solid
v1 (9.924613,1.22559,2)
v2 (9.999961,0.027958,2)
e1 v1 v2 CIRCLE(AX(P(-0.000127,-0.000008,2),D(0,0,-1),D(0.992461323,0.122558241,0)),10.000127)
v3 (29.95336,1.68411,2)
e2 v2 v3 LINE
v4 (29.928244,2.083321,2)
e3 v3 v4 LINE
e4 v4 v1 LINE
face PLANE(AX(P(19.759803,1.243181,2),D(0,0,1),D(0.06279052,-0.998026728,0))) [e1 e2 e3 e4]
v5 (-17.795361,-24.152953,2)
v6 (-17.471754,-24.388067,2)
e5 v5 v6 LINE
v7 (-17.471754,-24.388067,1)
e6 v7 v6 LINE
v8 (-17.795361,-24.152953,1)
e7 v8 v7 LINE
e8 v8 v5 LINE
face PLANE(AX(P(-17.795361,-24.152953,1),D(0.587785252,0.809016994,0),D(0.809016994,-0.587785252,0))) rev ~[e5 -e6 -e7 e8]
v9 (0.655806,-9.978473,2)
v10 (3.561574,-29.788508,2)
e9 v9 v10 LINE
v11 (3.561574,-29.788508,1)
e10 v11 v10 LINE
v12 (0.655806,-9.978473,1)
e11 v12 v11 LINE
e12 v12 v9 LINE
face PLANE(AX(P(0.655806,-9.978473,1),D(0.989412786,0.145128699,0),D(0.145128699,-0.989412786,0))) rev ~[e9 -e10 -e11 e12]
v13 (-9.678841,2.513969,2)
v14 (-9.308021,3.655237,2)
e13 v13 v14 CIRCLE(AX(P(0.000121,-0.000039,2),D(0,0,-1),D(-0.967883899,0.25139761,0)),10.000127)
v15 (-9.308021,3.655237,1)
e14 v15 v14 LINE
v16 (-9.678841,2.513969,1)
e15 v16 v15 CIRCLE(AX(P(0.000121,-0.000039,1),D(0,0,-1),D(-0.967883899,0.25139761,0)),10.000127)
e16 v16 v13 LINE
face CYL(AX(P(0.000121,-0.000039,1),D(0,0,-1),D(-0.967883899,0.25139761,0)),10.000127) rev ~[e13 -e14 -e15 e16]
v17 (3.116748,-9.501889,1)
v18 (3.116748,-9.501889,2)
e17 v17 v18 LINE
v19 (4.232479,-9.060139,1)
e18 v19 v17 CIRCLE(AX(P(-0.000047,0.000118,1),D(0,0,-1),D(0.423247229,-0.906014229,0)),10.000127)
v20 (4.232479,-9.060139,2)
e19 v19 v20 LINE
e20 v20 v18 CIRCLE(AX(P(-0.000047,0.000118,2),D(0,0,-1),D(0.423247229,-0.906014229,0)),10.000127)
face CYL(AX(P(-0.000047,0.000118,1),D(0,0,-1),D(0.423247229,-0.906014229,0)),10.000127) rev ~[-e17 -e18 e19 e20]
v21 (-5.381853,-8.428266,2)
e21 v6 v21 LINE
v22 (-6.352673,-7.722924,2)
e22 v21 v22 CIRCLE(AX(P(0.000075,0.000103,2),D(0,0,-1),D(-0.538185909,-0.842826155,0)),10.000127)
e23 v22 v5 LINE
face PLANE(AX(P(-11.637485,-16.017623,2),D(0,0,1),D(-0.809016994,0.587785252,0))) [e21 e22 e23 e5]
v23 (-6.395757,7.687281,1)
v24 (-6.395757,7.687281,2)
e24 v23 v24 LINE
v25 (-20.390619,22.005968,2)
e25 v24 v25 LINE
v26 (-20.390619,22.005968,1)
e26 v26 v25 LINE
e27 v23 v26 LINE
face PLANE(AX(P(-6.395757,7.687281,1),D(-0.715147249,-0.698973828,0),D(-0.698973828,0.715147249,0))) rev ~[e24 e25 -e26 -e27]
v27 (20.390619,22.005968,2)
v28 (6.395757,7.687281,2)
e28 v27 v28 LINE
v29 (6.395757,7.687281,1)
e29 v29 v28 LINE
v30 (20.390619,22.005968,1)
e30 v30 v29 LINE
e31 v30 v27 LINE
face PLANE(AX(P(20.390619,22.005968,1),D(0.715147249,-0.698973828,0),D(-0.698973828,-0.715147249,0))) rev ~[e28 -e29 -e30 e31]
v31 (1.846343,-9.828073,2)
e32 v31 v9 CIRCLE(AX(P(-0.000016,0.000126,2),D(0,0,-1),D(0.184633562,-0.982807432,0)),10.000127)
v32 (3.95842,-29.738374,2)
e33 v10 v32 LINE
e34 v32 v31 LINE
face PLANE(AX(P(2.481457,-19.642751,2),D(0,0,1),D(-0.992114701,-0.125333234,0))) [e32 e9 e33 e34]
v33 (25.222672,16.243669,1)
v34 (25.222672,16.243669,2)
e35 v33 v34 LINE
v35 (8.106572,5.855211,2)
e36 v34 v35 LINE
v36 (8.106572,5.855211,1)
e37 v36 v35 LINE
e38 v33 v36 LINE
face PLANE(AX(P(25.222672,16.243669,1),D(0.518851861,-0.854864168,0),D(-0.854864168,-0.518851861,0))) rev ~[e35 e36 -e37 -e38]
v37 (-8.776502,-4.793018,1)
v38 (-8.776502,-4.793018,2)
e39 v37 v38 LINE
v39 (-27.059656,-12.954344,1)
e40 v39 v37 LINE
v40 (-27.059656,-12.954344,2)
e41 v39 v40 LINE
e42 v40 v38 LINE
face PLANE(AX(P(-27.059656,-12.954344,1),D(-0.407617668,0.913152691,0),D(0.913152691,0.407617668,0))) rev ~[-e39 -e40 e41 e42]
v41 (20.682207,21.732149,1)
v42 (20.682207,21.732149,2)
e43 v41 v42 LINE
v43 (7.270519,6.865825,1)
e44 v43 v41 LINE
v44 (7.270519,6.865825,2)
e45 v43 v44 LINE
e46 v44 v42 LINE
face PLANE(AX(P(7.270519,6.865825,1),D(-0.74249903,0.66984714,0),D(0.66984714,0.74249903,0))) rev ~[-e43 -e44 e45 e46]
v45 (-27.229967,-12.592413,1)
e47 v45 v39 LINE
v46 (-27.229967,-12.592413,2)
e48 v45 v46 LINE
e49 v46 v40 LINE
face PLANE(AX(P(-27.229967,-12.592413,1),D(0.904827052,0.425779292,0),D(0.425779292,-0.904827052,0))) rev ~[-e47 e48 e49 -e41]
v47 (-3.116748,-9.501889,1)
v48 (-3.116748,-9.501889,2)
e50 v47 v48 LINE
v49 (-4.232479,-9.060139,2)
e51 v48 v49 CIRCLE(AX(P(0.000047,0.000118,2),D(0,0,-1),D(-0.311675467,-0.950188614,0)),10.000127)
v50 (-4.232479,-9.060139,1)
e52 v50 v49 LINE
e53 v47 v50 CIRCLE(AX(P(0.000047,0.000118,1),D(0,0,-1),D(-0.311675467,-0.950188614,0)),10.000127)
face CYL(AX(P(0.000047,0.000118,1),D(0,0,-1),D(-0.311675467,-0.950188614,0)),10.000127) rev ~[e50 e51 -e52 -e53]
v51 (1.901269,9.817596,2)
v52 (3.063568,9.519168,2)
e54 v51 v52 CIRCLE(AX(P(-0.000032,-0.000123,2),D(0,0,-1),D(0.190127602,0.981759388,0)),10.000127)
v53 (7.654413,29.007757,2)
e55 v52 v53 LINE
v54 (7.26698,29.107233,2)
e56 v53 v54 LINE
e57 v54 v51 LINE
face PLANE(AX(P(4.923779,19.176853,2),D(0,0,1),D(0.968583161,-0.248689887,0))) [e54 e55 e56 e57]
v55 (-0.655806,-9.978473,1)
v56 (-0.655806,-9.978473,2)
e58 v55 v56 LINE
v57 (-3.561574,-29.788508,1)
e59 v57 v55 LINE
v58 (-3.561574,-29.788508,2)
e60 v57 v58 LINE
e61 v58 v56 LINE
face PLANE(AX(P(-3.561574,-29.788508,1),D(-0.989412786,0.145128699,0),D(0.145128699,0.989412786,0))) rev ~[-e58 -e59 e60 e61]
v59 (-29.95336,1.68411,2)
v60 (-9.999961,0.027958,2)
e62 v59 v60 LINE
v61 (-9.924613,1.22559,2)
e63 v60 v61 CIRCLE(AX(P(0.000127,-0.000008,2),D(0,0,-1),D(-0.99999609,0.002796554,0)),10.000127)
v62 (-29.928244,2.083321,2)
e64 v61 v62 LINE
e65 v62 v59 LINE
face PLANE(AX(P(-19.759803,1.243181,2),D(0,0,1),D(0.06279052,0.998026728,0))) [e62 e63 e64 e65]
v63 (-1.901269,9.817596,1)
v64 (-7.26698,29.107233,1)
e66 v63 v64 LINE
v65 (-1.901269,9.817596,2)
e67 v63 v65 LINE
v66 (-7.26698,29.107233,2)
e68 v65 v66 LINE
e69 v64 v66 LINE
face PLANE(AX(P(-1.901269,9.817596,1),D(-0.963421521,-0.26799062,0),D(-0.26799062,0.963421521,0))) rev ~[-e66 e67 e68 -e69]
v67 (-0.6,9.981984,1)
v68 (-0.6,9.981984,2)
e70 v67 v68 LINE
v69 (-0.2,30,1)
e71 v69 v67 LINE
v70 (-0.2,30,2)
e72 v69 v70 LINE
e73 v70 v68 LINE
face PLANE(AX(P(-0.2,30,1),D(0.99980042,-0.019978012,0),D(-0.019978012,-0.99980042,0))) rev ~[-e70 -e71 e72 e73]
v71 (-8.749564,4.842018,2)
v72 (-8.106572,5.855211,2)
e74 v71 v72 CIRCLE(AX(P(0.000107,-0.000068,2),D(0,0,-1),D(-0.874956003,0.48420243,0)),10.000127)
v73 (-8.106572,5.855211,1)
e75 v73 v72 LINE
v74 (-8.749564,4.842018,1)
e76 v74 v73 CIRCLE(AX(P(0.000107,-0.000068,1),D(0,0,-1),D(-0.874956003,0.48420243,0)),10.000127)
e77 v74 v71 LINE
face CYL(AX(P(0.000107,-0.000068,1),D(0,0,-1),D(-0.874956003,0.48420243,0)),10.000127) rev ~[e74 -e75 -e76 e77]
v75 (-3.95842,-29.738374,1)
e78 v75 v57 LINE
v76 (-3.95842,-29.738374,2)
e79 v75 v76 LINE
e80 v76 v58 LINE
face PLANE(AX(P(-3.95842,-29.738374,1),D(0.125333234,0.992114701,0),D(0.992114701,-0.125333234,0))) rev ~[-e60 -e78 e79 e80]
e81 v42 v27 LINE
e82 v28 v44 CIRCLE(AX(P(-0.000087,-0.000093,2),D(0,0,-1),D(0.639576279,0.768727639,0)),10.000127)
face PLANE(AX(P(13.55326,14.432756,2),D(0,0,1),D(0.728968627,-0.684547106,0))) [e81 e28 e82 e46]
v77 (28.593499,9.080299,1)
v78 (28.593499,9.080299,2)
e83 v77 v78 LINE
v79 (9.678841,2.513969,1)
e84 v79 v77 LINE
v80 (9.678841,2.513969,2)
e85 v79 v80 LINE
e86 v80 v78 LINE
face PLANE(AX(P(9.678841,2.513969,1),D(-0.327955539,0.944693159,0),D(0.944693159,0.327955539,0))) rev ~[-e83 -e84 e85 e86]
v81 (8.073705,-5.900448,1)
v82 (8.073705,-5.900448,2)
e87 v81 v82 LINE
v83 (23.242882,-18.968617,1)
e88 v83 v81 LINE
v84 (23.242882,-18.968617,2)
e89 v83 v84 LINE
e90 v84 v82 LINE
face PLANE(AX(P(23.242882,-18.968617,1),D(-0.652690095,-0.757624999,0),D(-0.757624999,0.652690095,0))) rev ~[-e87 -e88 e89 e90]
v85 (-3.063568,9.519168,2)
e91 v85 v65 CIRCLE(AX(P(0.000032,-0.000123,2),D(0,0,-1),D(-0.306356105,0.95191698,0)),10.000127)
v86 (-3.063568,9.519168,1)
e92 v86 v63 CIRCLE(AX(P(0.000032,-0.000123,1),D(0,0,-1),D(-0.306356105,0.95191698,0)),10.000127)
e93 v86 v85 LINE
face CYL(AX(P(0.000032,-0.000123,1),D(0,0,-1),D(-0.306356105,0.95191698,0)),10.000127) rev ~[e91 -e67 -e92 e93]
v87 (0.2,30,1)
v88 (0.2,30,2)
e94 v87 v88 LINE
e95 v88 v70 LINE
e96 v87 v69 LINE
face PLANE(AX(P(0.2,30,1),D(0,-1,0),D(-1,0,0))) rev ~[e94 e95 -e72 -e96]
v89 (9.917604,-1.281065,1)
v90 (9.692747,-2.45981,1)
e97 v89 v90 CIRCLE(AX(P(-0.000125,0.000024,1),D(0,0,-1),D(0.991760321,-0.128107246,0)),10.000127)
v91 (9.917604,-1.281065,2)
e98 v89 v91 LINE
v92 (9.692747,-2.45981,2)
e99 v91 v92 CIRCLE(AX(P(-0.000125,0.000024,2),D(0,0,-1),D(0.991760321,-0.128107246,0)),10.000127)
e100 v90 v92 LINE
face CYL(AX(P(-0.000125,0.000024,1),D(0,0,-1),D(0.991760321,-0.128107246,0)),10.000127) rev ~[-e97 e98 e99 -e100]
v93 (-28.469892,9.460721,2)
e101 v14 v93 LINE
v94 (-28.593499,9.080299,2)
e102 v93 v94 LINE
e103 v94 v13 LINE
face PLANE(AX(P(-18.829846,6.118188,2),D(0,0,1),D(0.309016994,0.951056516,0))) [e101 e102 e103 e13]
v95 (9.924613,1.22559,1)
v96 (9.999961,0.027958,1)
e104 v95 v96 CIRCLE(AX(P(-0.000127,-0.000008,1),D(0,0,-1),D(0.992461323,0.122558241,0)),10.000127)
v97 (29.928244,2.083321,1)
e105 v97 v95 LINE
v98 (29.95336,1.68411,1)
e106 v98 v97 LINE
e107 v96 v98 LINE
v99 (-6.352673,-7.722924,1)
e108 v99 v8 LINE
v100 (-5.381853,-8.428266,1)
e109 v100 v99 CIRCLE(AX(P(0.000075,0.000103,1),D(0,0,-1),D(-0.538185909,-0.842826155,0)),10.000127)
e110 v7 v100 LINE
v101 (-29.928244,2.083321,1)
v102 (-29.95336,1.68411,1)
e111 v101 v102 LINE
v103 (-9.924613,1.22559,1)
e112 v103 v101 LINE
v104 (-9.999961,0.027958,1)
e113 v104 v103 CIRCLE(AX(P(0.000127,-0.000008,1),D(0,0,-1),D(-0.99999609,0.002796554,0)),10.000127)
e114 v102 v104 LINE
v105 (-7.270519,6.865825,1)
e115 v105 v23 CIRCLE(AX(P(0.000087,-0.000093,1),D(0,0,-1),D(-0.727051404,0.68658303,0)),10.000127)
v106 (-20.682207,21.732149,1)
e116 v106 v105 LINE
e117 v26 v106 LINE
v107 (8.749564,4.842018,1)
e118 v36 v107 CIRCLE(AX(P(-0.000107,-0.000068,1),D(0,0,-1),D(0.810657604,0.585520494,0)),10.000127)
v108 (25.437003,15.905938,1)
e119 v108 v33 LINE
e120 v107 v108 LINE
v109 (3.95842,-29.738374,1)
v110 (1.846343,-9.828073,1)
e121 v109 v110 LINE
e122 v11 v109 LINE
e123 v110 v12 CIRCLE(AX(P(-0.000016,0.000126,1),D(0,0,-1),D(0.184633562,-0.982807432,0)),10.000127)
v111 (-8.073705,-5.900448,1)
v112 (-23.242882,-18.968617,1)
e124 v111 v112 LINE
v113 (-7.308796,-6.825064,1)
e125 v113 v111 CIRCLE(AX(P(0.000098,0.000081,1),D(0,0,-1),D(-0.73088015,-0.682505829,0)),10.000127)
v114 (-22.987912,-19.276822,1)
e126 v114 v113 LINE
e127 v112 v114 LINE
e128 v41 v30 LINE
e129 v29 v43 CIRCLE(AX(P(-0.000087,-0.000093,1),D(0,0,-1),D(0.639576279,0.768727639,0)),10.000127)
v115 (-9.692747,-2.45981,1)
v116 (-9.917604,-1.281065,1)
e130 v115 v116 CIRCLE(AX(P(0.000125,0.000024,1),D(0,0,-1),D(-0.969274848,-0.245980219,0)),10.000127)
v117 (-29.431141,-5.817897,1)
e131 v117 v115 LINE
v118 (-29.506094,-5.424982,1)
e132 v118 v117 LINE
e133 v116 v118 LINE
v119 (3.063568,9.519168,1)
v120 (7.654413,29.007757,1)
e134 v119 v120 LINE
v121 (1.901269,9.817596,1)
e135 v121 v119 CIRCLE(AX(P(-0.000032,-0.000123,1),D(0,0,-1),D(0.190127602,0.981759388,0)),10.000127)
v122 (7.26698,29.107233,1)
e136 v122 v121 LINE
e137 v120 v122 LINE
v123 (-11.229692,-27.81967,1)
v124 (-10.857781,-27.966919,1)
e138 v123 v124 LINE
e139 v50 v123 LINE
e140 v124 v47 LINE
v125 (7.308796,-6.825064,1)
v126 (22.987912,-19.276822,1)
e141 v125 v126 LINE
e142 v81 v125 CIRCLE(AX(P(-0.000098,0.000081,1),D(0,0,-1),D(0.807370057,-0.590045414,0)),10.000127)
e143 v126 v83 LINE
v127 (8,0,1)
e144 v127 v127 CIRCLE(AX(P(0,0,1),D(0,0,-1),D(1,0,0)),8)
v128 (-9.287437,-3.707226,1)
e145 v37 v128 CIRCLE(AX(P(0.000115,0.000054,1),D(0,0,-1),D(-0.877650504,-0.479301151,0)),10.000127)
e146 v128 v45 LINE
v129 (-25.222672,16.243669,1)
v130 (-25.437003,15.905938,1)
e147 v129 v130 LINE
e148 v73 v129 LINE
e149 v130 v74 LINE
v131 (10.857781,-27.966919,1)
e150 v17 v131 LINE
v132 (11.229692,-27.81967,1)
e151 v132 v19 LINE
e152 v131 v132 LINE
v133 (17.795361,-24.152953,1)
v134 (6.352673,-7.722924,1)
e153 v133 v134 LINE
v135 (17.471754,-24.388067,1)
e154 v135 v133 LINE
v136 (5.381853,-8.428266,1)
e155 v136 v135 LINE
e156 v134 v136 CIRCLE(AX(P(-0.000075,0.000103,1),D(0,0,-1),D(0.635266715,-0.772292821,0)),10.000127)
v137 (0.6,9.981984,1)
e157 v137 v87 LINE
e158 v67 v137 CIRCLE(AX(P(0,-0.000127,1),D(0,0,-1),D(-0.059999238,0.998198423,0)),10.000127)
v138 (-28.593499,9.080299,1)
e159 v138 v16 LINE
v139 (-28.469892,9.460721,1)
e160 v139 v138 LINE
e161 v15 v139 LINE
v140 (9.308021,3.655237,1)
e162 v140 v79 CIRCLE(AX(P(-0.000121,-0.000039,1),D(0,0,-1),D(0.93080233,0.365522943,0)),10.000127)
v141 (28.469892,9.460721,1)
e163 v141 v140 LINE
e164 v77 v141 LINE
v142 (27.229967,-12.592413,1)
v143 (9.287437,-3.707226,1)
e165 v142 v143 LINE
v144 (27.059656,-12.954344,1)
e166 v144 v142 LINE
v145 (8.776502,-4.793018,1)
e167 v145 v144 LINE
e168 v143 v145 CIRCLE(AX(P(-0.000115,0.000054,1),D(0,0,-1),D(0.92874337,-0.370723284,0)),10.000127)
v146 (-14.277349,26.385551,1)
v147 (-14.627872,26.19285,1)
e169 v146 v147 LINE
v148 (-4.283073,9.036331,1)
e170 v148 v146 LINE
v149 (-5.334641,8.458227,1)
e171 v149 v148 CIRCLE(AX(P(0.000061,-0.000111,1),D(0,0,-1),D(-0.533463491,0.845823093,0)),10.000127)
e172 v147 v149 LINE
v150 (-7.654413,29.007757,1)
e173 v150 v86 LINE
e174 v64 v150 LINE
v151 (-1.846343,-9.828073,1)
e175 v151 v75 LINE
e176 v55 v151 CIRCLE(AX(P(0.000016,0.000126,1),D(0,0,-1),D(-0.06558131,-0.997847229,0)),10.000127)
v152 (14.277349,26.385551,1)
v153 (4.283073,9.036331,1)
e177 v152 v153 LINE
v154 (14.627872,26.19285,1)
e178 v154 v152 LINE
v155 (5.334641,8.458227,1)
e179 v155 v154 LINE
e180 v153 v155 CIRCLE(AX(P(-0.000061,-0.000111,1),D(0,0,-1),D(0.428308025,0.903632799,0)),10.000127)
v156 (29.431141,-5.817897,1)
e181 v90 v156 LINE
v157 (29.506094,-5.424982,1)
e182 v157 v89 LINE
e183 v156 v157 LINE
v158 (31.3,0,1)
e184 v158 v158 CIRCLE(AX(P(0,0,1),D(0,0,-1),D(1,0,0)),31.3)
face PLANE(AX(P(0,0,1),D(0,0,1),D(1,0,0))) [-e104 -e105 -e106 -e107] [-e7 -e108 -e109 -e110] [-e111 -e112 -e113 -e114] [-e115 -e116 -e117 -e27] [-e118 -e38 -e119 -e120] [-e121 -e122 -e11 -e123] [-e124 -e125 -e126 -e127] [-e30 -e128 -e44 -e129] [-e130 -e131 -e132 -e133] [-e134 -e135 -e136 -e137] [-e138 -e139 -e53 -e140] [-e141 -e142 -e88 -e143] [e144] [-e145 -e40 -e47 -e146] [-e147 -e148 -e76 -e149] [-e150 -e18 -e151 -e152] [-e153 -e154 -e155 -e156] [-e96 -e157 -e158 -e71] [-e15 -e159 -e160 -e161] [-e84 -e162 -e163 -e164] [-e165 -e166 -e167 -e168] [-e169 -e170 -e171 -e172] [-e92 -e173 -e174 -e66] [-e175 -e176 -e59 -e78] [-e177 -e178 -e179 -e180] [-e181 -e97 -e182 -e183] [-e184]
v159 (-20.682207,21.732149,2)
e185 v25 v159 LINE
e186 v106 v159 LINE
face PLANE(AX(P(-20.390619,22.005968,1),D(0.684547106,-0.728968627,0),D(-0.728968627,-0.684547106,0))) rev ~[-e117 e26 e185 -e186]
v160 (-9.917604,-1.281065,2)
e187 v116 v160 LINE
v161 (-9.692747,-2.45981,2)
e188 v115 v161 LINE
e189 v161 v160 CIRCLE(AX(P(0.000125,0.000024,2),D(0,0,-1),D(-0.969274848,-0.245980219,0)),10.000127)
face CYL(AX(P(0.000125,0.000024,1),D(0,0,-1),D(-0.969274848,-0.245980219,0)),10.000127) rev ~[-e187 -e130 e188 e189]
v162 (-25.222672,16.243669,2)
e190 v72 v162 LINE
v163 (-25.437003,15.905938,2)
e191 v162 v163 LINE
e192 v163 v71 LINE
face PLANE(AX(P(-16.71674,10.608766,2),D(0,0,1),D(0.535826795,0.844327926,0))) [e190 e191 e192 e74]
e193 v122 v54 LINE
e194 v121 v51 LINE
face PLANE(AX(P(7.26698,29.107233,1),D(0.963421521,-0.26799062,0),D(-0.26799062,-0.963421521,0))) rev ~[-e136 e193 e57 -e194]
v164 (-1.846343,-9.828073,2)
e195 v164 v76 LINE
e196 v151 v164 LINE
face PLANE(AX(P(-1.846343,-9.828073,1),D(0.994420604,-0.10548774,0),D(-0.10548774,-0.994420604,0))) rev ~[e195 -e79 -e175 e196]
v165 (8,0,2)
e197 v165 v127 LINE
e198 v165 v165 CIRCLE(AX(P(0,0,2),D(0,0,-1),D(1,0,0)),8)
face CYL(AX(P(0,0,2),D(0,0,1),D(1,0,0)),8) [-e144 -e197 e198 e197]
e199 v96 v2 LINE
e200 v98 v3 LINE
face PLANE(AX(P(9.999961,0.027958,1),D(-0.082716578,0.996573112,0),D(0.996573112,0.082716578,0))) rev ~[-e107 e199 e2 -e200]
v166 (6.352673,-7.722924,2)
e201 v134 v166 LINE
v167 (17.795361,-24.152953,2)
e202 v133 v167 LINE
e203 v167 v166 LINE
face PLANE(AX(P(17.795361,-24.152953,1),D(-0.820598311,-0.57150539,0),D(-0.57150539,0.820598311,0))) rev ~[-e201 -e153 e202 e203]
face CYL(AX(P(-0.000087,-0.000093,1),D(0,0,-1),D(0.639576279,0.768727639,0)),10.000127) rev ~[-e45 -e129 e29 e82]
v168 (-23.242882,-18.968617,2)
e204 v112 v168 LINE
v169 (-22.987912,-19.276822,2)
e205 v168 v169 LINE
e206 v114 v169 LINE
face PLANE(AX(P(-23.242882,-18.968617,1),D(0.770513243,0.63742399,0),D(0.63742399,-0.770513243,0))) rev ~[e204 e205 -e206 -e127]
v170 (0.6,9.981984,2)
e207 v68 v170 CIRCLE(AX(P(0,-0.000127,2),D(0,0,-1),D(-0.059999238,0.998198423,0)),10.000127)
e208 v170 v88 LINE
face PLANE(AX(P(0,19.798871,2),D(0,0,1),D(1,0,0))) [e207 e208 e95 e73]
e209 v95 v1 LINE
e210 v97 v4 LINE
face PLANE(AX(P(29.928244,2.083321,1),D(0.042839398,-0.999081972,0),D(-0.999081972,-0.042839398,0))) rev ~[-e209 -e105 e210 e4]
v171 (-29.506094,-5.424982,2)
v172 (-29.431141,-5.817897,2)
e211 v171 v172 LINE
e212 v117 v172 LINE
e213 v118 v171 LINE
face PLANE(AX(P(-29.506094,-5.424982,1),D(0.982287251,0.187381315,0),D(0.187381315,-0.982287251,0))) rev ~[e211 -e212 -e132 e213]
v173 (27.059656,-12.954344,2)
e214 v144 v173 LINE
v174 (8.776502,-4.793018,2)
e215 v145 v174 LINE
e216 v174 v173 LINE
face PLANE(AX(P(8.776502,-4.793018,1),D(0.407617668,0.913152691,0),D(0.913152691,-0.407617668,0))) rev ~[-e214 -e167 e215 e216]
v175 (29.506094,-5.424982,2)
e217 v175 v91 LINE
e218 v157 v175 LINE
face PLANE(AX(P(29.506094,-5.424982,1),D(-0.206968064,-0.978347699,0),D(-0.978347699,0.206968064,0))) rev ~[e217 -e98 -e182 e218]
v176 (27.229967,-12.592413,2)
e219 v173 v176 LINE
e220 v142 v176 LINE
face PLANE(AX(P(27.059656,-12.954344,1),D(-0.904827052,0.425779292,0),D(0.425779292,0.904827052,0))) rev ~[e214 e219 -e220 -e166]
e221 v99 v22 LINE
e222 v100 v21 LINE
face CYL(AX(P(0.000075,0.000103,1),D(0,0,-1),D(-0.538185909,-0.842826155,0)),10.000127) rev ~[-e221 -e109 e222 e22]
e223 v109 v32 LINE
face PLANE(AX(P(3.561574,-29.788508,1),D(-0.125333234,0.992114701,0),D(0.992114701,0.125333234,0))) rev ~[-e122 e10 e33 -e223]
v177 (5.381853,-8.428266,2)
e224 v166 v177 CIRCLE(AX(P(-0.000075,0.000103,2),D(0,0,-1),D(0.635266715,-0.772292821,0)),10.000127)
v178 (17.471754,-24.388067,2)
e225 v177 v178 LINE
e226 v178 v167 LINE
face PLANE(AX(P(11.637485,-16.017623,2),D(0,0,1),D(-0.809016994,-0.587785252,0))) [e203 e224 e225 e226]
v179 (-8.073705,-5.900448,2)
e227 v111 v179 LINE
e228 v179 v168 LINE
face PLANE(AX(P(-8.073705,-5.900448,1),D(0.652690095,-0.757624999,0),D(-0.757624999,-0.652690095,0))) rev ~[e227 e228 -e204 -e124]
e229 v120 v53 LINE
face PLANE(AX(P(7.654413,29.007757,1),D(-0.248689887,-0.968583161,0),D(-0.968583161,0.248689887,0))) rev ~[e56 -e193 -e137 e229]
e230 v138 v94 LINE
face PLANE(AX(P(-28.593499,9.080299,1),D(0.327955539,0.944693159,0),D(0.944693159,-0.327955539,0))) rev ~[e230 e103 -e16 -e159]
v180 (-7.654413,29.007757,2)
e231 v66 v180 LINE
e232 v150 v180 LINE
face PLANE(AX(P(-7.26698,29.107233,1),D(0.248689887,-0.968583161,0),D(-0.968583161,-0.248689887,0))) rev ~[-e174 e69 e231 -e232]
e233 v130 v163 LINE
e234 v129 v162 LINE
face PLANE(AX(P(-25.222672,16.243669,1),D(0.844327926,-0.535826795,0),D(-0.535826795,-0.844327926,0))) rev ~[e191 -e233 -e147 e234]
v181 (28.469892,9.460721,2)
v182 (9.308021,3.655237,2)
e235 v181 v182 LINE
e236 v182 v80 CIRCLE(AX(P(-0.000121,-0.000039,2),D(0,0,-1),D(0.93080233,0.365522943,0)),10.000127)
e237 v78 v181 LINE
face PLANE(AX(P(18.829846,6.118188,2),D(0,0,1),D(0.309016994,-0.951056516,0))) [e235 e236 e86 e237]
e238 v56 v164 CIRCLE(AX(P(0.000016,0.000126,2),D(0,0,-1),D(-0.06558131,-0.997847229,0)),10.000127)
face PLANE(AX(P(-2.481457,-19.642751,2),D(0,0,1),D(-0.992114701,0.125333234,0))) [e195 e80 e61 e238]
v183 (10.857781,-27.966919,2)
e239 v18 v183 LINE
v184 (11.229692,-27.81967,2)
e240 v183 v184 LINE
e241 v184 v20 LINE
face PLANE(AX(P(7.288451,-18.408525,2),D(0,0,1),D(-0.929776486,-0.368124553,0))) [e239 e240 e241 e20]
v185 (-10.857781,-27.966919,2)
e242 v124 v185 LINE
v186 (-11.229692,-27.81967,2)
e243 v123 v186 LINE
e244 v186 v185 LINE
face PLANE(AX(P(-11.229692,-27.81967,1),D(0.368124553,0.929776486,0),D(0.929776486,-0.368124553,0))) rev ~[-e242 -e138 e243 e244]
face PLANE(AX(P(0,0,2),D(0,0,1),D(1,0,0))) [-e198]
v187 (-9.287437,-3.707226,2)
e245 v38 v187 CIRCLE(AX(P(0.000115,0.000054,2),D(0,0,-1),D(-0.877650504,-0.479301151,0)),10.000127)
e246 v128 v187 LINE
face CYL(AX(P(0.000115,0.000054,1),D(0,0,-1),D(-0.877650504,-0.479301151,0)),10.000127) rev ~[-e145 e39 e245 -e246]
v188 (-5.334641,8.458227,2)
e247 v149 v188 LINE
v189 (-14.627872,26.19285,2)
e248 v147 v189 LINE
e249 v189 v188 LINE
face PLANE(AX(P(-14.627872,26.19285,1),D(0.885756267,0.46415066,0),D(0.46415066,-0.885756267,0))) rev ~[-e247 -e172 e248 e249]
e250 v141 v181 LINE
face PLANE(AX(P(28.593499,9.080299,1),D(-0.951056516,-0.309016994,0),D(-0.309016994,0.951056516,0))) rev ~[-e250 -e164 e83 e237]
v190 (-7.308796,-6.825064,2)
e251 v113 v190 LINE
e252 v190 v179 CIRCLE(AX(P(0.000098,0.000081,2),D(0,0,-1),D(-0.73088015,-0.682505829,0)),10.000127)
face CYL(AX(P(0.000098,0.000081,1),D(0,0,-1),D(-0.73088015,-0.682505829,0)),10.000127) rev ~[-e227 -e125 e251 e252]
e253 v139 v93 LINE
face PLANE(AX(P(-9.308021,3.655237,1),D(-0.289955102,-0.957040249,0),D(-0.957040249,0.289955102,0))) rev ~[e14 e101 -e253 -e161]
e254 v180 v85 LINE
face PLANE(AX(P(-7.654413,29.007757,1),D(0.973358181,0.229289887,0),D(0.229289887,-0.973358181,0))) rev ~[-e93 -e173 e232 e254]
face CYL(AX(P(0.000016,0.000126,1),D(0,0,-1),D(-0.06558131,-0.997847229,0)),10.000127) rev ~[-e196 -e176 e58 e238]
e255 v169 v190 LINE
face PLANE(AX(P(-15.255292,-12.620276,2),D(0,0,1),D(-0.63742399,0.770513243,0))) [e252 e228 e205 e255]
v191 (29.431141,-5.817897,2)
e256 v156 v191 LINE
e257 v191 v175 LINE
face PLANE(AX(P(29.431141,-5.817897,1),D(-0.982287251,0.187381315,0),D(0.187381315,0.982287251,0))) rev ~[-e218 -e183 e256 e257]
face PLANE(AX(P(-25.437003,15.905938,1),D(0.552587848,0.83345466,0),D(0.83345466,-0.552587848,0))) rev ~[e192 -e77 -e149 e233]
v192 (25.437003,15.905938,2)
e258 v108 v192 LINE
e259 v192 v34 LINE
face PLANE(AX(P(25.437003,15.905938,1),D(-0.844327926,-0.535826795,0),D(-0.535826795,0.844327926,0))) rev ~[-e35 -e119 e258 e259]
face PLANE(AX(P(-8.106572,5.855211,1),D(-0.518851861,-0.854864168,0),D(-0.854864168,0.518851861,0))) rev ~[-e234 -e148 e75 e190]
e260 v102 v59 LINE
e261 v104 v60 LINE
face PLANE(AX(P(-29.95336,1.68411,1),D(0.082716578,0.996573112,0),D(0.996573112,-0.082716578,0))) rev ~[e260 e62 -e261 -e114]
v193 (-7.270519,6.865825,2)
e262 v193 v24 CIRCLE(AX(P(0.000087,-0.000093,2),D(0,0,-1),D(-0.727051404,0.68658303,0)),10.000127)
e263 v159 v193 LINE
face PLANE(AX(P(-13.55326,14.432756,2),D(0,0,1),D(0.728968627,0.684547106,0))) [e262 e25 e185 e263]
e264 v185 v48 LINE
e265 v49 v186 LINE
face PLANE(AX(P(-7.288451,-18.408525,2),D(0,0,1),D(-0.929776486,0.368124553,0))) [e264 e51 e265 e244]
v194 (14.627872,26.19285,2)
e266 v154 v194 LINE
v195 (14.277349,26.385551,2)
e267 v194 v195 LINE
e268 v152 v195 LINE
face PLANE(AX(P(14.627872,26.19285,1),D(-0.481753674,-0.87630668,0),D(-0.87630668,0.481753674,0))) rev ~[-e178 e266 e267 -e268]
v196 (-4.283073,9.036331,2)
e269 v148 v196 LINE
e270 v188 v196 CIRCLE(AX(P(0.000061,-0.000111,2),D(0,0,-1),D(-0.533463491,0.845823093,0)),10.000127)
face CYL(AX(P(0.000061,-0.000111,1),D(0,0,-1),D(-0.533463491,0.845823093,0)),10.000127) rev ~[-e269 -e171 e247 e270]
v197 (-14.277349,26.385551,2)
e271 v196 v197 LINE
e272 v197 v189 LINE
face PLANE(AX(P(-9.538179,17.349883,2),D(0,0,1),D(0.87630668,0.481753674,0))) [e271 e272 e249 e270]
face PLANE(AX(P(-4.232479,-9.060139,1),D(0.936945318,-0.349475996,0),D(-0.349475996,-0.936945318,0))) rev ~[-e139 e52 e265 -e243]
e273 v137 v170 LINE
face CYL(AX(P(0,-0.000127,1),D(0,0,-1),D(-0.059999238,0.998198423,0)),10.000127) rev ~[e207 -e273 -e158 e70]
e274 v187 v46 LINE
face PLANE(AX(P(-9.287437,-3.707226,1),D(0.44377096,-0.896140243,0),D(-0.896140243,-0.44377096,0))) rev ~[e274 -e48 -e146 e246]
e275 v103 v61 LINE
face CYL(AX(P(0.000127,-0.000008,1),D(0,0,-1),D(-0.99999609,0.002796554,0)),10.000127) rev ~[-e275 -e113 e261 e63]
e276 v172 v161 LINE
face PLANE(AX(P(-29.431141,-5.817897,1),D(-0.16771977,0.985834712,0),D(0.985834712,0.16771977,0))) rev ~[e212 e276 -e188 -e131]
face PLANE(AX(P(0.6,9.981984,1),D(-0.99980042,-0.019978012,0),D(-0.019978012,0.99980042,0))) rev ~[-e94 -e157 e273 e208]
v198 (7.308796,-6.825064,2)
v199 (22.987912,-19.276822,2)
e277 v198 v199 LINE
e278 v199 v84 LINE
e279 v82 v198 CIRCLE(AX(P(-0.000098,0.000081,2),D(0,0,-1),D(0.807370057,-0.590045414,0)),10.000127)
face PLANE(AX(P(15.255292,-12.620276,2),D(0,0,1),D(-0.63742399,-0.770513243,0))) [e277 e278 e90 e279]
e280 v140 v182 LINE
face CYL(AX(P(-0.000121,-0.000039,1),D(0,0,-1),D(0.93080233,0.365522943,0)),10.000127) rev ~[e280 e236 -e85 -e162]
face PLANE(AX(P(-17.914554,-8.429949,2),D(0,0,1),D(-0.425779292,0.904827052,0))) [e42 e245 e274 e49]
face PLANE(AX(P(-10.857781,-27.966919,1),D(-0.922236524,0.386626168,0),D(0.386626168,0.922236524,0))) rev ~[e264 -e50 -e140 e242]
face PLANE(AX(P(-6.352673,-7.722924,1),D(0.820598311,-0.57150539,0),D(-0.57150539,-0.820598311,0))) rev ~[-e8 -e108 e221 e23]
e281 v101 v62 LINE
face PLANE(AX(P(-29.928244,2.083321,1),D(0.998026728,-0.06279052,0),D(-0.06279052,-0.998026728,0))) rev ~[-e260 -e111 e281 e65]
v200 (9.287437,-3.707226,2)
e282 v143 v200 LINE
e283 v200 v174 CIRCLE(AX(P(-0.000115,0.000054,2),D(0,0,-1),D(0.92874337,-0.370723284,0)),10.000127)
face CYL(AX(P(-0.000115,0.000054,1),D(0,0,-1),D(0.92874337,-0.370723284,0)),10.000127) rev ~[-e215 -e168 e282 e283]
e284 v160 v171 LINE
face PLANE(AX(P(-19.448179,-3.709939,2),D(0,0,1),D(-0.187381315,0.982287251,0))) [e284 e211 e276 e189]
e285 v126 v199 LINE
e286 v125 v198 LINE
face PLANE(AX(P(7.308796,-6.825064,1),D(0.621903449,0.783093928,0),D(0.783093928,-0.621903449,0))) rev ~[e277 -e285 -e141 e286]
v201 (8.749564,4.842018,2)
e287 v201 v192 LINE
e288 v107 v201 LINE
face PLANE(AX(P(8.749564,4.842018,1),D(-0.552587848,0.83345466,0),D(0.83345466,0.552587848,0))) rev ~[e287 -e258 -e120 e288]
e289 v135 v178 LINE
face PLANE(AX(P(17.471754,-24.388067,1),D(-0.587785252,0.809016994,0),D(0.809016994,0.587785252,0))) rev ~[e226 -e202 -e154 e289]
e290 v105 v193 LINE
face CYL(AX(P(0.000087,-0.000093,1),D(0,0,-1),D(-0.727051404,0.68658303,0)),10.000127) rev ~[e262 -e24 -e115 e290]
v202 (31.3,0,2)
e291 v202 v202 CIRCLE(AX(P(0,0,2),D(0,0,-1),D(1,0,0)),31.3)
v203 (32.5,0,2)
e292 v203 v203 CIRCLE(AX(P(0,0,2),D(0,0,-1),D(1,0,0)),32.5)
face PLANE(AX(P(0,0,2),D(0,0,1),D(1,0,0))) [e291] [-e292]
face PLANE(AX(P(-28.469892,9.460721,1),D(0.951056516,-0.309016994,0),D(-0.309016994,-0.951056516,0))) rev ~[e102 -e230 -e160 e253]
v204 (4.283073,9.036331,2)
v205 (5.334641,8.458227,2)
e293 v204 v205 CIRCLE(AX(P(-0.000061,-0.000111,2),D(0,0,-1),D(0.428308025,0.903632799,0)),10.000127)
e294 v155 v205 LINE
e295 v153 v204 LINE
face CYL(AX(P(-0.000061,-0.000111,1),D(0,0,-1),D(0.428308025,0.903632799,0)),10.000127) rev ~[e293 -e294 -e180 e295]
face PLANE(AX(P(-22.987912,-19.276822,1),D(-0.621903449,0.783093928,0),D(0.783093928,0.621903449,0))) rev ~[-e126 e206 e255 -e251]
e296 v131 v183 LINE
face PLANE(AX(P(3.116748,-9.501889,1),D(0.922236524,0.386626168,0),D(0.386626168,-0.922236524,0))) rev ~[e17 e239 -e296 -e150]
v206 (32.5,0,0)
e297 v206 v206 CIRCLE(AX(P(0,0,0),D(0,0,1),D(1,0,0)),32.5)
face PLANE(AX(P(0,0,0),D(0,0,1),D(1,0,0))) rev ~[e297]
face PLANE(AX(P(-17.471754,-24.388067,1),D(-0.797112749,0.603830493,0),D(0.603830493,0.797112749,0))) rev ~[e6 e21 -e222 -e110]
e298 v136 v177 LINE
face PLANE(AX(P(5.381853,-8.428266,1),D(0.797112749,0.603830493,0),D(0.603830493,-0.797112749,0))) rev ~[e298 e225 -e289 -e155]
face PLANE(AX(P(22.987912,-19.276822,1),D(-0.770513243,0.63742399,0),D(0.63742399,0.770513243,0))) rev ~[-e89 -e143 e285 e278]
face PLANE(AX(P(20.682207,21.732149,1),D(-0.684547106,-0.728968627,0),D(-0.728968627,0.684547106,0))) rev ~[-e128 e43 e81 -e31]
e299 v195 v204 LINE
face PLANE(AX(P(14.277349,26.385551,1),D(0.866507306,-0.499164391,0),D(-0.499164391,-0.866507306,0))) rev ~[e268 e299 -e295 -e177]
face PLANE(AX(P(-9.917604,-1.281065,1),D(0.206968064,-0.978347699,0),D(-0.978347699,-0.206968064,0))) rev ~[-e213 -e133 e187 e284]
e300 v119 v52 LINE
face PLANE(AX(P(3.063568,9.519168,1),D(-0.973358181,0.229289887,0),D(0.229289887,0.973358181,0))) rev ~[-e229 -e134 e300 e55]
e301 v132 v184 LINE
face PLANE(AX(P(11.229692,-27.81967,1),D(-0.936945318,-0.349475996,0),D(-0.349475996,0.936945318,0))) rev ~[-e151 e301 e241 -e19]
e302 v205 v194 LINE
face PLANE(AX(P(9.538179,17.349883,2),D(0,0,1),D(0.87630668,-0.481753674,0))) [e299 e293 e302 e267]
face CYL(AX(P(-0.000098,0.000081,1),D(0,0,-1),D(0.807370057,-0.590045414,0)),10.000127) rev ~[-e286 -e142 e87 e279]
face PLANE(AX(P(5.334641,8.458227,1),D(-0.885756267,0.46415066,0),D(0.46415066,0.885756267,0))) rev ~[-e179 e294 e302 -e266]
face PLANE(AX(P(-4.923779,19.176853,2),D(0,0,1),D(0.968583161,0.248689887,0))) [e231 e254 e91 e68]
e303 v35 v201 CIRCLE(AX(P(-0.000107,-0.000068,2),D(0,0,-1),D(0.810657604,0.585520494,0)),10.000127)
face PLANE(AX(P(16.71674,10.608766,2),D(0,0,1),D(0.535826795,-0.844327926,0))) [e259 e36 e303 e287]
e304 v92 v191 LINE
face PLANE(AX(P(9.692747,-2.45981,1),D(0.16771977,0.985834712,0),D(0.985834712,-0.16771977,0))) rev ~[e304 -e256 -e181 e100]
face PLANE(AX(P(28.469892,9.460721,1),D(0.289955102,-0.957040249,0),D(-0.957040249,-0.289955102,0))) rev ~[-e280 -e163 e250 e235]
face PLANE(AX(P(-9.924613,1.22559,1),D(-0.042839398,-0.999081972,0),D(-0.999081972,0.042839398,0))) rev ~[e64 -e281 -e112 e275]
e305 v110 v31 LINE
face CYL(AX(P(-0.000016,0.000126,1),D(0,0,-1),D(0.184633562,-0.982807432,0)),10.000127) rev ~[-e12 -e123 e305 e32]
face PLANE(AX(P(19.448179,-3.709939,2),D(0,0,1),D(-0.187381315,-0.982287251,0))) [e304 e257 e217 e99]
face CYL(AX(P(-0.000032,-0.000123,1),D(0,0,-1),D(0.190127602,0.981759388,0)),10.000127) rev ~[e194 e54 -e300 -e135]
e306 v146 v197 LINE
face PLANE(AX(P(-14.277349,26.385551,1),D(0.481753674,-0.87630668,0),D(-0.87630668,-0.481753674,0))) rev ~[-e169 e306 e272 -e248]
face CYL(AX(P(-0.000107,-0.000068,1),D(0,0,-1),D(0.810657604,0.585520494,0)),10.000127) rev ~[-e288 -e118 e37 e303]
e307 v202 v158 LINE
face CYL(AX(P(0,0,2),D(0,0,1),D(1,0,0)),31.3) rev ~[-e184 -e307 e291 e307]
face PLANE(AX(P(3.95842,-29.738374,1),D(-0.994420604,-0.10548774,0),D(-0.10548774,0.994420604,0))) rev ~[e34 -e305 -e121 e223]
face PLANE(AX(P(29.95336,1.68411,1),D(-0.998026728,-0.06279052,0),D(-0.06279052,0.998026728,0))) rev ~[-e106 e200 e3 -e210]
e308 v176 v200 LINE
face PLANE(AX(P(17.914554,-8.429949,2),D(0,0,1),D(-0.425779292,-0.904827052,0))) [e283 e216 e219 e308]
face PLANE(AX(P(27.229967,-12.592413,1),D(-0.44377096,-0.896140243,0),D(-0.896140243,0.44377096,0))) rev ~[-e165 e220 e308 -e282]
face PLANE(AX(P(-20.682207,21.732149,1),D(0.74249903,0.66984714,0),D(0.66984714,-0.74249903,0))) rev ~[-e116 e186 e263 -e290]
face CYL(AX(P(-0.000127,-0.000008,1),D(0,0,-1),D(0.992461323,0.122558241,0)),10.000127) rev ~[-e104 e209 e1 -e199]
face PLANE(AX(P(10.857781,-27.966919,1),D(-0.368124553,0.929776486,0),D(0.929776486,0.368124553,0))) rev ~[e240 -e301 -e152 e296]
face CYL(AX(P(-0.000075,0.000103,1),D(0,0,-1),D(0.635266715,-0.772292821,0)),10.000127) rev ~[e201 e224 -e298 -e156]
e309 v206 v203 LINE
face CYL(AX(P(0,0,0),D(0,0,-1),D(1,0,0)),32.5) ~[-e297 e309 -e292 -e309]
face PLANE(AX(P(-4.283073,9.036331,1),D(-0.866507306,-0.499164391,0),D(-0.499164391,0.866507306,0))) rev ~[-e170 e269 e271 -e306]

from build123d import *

# Parameters (mm, degrees)
F0_R     = 32.5
F1_DEPTH = 2
F2_R     = 31.3
F2_R_2   = 8
F3_DEPTH = 1
F5_DEPTH = 1
F6_COUNT = 25


with BuildPart() as f1:
    # F0 (on Top) → F1 (new body)
    with BuildSketch(Plane.XY):
        Circle(F0_R)
    extrude(amount=F1_DEPTH)

    # F2 (on face) → F3 (cut)
    with BuildSketch(Plane.XY.offset(2)):
        Circle(F2_R)
        Circle(F2_R_2, mode=Mode.SUBTRACT)
    extrude(amount=-F3_DEPTH, mode=Mode.SUBTRACT)

    # F4 (on face) → F5 (join, through all)
    with BuildSketch(Plane.XY.offset(1)):
        with BuildLine():
            ThreePointArc((-0.6, 9.981984), (0, 10), (0.6, 9.981984))
            Line((0.6, 9.981984), (0.2, 30))
            Line((0.2, 30), (0, 30))
            Line((0, 30), (-0.2, 30))
            Line((-0.2, 30), (-0.6, 9.981984))
        make_face()
    extrude(amount=F5_DEPTH)

    # F6: F1 ×25 about axis
    f6_axis = Axis((0, 0, 0), (0, 0, -1))


with BuildPart() as f1_1:
    add(f1.part)
    for i in range(1, F6_COUNT):
        add(f1.part.rotate(f6_axis, i * 360 / F6_COUNT))


solid = f1_1.part
